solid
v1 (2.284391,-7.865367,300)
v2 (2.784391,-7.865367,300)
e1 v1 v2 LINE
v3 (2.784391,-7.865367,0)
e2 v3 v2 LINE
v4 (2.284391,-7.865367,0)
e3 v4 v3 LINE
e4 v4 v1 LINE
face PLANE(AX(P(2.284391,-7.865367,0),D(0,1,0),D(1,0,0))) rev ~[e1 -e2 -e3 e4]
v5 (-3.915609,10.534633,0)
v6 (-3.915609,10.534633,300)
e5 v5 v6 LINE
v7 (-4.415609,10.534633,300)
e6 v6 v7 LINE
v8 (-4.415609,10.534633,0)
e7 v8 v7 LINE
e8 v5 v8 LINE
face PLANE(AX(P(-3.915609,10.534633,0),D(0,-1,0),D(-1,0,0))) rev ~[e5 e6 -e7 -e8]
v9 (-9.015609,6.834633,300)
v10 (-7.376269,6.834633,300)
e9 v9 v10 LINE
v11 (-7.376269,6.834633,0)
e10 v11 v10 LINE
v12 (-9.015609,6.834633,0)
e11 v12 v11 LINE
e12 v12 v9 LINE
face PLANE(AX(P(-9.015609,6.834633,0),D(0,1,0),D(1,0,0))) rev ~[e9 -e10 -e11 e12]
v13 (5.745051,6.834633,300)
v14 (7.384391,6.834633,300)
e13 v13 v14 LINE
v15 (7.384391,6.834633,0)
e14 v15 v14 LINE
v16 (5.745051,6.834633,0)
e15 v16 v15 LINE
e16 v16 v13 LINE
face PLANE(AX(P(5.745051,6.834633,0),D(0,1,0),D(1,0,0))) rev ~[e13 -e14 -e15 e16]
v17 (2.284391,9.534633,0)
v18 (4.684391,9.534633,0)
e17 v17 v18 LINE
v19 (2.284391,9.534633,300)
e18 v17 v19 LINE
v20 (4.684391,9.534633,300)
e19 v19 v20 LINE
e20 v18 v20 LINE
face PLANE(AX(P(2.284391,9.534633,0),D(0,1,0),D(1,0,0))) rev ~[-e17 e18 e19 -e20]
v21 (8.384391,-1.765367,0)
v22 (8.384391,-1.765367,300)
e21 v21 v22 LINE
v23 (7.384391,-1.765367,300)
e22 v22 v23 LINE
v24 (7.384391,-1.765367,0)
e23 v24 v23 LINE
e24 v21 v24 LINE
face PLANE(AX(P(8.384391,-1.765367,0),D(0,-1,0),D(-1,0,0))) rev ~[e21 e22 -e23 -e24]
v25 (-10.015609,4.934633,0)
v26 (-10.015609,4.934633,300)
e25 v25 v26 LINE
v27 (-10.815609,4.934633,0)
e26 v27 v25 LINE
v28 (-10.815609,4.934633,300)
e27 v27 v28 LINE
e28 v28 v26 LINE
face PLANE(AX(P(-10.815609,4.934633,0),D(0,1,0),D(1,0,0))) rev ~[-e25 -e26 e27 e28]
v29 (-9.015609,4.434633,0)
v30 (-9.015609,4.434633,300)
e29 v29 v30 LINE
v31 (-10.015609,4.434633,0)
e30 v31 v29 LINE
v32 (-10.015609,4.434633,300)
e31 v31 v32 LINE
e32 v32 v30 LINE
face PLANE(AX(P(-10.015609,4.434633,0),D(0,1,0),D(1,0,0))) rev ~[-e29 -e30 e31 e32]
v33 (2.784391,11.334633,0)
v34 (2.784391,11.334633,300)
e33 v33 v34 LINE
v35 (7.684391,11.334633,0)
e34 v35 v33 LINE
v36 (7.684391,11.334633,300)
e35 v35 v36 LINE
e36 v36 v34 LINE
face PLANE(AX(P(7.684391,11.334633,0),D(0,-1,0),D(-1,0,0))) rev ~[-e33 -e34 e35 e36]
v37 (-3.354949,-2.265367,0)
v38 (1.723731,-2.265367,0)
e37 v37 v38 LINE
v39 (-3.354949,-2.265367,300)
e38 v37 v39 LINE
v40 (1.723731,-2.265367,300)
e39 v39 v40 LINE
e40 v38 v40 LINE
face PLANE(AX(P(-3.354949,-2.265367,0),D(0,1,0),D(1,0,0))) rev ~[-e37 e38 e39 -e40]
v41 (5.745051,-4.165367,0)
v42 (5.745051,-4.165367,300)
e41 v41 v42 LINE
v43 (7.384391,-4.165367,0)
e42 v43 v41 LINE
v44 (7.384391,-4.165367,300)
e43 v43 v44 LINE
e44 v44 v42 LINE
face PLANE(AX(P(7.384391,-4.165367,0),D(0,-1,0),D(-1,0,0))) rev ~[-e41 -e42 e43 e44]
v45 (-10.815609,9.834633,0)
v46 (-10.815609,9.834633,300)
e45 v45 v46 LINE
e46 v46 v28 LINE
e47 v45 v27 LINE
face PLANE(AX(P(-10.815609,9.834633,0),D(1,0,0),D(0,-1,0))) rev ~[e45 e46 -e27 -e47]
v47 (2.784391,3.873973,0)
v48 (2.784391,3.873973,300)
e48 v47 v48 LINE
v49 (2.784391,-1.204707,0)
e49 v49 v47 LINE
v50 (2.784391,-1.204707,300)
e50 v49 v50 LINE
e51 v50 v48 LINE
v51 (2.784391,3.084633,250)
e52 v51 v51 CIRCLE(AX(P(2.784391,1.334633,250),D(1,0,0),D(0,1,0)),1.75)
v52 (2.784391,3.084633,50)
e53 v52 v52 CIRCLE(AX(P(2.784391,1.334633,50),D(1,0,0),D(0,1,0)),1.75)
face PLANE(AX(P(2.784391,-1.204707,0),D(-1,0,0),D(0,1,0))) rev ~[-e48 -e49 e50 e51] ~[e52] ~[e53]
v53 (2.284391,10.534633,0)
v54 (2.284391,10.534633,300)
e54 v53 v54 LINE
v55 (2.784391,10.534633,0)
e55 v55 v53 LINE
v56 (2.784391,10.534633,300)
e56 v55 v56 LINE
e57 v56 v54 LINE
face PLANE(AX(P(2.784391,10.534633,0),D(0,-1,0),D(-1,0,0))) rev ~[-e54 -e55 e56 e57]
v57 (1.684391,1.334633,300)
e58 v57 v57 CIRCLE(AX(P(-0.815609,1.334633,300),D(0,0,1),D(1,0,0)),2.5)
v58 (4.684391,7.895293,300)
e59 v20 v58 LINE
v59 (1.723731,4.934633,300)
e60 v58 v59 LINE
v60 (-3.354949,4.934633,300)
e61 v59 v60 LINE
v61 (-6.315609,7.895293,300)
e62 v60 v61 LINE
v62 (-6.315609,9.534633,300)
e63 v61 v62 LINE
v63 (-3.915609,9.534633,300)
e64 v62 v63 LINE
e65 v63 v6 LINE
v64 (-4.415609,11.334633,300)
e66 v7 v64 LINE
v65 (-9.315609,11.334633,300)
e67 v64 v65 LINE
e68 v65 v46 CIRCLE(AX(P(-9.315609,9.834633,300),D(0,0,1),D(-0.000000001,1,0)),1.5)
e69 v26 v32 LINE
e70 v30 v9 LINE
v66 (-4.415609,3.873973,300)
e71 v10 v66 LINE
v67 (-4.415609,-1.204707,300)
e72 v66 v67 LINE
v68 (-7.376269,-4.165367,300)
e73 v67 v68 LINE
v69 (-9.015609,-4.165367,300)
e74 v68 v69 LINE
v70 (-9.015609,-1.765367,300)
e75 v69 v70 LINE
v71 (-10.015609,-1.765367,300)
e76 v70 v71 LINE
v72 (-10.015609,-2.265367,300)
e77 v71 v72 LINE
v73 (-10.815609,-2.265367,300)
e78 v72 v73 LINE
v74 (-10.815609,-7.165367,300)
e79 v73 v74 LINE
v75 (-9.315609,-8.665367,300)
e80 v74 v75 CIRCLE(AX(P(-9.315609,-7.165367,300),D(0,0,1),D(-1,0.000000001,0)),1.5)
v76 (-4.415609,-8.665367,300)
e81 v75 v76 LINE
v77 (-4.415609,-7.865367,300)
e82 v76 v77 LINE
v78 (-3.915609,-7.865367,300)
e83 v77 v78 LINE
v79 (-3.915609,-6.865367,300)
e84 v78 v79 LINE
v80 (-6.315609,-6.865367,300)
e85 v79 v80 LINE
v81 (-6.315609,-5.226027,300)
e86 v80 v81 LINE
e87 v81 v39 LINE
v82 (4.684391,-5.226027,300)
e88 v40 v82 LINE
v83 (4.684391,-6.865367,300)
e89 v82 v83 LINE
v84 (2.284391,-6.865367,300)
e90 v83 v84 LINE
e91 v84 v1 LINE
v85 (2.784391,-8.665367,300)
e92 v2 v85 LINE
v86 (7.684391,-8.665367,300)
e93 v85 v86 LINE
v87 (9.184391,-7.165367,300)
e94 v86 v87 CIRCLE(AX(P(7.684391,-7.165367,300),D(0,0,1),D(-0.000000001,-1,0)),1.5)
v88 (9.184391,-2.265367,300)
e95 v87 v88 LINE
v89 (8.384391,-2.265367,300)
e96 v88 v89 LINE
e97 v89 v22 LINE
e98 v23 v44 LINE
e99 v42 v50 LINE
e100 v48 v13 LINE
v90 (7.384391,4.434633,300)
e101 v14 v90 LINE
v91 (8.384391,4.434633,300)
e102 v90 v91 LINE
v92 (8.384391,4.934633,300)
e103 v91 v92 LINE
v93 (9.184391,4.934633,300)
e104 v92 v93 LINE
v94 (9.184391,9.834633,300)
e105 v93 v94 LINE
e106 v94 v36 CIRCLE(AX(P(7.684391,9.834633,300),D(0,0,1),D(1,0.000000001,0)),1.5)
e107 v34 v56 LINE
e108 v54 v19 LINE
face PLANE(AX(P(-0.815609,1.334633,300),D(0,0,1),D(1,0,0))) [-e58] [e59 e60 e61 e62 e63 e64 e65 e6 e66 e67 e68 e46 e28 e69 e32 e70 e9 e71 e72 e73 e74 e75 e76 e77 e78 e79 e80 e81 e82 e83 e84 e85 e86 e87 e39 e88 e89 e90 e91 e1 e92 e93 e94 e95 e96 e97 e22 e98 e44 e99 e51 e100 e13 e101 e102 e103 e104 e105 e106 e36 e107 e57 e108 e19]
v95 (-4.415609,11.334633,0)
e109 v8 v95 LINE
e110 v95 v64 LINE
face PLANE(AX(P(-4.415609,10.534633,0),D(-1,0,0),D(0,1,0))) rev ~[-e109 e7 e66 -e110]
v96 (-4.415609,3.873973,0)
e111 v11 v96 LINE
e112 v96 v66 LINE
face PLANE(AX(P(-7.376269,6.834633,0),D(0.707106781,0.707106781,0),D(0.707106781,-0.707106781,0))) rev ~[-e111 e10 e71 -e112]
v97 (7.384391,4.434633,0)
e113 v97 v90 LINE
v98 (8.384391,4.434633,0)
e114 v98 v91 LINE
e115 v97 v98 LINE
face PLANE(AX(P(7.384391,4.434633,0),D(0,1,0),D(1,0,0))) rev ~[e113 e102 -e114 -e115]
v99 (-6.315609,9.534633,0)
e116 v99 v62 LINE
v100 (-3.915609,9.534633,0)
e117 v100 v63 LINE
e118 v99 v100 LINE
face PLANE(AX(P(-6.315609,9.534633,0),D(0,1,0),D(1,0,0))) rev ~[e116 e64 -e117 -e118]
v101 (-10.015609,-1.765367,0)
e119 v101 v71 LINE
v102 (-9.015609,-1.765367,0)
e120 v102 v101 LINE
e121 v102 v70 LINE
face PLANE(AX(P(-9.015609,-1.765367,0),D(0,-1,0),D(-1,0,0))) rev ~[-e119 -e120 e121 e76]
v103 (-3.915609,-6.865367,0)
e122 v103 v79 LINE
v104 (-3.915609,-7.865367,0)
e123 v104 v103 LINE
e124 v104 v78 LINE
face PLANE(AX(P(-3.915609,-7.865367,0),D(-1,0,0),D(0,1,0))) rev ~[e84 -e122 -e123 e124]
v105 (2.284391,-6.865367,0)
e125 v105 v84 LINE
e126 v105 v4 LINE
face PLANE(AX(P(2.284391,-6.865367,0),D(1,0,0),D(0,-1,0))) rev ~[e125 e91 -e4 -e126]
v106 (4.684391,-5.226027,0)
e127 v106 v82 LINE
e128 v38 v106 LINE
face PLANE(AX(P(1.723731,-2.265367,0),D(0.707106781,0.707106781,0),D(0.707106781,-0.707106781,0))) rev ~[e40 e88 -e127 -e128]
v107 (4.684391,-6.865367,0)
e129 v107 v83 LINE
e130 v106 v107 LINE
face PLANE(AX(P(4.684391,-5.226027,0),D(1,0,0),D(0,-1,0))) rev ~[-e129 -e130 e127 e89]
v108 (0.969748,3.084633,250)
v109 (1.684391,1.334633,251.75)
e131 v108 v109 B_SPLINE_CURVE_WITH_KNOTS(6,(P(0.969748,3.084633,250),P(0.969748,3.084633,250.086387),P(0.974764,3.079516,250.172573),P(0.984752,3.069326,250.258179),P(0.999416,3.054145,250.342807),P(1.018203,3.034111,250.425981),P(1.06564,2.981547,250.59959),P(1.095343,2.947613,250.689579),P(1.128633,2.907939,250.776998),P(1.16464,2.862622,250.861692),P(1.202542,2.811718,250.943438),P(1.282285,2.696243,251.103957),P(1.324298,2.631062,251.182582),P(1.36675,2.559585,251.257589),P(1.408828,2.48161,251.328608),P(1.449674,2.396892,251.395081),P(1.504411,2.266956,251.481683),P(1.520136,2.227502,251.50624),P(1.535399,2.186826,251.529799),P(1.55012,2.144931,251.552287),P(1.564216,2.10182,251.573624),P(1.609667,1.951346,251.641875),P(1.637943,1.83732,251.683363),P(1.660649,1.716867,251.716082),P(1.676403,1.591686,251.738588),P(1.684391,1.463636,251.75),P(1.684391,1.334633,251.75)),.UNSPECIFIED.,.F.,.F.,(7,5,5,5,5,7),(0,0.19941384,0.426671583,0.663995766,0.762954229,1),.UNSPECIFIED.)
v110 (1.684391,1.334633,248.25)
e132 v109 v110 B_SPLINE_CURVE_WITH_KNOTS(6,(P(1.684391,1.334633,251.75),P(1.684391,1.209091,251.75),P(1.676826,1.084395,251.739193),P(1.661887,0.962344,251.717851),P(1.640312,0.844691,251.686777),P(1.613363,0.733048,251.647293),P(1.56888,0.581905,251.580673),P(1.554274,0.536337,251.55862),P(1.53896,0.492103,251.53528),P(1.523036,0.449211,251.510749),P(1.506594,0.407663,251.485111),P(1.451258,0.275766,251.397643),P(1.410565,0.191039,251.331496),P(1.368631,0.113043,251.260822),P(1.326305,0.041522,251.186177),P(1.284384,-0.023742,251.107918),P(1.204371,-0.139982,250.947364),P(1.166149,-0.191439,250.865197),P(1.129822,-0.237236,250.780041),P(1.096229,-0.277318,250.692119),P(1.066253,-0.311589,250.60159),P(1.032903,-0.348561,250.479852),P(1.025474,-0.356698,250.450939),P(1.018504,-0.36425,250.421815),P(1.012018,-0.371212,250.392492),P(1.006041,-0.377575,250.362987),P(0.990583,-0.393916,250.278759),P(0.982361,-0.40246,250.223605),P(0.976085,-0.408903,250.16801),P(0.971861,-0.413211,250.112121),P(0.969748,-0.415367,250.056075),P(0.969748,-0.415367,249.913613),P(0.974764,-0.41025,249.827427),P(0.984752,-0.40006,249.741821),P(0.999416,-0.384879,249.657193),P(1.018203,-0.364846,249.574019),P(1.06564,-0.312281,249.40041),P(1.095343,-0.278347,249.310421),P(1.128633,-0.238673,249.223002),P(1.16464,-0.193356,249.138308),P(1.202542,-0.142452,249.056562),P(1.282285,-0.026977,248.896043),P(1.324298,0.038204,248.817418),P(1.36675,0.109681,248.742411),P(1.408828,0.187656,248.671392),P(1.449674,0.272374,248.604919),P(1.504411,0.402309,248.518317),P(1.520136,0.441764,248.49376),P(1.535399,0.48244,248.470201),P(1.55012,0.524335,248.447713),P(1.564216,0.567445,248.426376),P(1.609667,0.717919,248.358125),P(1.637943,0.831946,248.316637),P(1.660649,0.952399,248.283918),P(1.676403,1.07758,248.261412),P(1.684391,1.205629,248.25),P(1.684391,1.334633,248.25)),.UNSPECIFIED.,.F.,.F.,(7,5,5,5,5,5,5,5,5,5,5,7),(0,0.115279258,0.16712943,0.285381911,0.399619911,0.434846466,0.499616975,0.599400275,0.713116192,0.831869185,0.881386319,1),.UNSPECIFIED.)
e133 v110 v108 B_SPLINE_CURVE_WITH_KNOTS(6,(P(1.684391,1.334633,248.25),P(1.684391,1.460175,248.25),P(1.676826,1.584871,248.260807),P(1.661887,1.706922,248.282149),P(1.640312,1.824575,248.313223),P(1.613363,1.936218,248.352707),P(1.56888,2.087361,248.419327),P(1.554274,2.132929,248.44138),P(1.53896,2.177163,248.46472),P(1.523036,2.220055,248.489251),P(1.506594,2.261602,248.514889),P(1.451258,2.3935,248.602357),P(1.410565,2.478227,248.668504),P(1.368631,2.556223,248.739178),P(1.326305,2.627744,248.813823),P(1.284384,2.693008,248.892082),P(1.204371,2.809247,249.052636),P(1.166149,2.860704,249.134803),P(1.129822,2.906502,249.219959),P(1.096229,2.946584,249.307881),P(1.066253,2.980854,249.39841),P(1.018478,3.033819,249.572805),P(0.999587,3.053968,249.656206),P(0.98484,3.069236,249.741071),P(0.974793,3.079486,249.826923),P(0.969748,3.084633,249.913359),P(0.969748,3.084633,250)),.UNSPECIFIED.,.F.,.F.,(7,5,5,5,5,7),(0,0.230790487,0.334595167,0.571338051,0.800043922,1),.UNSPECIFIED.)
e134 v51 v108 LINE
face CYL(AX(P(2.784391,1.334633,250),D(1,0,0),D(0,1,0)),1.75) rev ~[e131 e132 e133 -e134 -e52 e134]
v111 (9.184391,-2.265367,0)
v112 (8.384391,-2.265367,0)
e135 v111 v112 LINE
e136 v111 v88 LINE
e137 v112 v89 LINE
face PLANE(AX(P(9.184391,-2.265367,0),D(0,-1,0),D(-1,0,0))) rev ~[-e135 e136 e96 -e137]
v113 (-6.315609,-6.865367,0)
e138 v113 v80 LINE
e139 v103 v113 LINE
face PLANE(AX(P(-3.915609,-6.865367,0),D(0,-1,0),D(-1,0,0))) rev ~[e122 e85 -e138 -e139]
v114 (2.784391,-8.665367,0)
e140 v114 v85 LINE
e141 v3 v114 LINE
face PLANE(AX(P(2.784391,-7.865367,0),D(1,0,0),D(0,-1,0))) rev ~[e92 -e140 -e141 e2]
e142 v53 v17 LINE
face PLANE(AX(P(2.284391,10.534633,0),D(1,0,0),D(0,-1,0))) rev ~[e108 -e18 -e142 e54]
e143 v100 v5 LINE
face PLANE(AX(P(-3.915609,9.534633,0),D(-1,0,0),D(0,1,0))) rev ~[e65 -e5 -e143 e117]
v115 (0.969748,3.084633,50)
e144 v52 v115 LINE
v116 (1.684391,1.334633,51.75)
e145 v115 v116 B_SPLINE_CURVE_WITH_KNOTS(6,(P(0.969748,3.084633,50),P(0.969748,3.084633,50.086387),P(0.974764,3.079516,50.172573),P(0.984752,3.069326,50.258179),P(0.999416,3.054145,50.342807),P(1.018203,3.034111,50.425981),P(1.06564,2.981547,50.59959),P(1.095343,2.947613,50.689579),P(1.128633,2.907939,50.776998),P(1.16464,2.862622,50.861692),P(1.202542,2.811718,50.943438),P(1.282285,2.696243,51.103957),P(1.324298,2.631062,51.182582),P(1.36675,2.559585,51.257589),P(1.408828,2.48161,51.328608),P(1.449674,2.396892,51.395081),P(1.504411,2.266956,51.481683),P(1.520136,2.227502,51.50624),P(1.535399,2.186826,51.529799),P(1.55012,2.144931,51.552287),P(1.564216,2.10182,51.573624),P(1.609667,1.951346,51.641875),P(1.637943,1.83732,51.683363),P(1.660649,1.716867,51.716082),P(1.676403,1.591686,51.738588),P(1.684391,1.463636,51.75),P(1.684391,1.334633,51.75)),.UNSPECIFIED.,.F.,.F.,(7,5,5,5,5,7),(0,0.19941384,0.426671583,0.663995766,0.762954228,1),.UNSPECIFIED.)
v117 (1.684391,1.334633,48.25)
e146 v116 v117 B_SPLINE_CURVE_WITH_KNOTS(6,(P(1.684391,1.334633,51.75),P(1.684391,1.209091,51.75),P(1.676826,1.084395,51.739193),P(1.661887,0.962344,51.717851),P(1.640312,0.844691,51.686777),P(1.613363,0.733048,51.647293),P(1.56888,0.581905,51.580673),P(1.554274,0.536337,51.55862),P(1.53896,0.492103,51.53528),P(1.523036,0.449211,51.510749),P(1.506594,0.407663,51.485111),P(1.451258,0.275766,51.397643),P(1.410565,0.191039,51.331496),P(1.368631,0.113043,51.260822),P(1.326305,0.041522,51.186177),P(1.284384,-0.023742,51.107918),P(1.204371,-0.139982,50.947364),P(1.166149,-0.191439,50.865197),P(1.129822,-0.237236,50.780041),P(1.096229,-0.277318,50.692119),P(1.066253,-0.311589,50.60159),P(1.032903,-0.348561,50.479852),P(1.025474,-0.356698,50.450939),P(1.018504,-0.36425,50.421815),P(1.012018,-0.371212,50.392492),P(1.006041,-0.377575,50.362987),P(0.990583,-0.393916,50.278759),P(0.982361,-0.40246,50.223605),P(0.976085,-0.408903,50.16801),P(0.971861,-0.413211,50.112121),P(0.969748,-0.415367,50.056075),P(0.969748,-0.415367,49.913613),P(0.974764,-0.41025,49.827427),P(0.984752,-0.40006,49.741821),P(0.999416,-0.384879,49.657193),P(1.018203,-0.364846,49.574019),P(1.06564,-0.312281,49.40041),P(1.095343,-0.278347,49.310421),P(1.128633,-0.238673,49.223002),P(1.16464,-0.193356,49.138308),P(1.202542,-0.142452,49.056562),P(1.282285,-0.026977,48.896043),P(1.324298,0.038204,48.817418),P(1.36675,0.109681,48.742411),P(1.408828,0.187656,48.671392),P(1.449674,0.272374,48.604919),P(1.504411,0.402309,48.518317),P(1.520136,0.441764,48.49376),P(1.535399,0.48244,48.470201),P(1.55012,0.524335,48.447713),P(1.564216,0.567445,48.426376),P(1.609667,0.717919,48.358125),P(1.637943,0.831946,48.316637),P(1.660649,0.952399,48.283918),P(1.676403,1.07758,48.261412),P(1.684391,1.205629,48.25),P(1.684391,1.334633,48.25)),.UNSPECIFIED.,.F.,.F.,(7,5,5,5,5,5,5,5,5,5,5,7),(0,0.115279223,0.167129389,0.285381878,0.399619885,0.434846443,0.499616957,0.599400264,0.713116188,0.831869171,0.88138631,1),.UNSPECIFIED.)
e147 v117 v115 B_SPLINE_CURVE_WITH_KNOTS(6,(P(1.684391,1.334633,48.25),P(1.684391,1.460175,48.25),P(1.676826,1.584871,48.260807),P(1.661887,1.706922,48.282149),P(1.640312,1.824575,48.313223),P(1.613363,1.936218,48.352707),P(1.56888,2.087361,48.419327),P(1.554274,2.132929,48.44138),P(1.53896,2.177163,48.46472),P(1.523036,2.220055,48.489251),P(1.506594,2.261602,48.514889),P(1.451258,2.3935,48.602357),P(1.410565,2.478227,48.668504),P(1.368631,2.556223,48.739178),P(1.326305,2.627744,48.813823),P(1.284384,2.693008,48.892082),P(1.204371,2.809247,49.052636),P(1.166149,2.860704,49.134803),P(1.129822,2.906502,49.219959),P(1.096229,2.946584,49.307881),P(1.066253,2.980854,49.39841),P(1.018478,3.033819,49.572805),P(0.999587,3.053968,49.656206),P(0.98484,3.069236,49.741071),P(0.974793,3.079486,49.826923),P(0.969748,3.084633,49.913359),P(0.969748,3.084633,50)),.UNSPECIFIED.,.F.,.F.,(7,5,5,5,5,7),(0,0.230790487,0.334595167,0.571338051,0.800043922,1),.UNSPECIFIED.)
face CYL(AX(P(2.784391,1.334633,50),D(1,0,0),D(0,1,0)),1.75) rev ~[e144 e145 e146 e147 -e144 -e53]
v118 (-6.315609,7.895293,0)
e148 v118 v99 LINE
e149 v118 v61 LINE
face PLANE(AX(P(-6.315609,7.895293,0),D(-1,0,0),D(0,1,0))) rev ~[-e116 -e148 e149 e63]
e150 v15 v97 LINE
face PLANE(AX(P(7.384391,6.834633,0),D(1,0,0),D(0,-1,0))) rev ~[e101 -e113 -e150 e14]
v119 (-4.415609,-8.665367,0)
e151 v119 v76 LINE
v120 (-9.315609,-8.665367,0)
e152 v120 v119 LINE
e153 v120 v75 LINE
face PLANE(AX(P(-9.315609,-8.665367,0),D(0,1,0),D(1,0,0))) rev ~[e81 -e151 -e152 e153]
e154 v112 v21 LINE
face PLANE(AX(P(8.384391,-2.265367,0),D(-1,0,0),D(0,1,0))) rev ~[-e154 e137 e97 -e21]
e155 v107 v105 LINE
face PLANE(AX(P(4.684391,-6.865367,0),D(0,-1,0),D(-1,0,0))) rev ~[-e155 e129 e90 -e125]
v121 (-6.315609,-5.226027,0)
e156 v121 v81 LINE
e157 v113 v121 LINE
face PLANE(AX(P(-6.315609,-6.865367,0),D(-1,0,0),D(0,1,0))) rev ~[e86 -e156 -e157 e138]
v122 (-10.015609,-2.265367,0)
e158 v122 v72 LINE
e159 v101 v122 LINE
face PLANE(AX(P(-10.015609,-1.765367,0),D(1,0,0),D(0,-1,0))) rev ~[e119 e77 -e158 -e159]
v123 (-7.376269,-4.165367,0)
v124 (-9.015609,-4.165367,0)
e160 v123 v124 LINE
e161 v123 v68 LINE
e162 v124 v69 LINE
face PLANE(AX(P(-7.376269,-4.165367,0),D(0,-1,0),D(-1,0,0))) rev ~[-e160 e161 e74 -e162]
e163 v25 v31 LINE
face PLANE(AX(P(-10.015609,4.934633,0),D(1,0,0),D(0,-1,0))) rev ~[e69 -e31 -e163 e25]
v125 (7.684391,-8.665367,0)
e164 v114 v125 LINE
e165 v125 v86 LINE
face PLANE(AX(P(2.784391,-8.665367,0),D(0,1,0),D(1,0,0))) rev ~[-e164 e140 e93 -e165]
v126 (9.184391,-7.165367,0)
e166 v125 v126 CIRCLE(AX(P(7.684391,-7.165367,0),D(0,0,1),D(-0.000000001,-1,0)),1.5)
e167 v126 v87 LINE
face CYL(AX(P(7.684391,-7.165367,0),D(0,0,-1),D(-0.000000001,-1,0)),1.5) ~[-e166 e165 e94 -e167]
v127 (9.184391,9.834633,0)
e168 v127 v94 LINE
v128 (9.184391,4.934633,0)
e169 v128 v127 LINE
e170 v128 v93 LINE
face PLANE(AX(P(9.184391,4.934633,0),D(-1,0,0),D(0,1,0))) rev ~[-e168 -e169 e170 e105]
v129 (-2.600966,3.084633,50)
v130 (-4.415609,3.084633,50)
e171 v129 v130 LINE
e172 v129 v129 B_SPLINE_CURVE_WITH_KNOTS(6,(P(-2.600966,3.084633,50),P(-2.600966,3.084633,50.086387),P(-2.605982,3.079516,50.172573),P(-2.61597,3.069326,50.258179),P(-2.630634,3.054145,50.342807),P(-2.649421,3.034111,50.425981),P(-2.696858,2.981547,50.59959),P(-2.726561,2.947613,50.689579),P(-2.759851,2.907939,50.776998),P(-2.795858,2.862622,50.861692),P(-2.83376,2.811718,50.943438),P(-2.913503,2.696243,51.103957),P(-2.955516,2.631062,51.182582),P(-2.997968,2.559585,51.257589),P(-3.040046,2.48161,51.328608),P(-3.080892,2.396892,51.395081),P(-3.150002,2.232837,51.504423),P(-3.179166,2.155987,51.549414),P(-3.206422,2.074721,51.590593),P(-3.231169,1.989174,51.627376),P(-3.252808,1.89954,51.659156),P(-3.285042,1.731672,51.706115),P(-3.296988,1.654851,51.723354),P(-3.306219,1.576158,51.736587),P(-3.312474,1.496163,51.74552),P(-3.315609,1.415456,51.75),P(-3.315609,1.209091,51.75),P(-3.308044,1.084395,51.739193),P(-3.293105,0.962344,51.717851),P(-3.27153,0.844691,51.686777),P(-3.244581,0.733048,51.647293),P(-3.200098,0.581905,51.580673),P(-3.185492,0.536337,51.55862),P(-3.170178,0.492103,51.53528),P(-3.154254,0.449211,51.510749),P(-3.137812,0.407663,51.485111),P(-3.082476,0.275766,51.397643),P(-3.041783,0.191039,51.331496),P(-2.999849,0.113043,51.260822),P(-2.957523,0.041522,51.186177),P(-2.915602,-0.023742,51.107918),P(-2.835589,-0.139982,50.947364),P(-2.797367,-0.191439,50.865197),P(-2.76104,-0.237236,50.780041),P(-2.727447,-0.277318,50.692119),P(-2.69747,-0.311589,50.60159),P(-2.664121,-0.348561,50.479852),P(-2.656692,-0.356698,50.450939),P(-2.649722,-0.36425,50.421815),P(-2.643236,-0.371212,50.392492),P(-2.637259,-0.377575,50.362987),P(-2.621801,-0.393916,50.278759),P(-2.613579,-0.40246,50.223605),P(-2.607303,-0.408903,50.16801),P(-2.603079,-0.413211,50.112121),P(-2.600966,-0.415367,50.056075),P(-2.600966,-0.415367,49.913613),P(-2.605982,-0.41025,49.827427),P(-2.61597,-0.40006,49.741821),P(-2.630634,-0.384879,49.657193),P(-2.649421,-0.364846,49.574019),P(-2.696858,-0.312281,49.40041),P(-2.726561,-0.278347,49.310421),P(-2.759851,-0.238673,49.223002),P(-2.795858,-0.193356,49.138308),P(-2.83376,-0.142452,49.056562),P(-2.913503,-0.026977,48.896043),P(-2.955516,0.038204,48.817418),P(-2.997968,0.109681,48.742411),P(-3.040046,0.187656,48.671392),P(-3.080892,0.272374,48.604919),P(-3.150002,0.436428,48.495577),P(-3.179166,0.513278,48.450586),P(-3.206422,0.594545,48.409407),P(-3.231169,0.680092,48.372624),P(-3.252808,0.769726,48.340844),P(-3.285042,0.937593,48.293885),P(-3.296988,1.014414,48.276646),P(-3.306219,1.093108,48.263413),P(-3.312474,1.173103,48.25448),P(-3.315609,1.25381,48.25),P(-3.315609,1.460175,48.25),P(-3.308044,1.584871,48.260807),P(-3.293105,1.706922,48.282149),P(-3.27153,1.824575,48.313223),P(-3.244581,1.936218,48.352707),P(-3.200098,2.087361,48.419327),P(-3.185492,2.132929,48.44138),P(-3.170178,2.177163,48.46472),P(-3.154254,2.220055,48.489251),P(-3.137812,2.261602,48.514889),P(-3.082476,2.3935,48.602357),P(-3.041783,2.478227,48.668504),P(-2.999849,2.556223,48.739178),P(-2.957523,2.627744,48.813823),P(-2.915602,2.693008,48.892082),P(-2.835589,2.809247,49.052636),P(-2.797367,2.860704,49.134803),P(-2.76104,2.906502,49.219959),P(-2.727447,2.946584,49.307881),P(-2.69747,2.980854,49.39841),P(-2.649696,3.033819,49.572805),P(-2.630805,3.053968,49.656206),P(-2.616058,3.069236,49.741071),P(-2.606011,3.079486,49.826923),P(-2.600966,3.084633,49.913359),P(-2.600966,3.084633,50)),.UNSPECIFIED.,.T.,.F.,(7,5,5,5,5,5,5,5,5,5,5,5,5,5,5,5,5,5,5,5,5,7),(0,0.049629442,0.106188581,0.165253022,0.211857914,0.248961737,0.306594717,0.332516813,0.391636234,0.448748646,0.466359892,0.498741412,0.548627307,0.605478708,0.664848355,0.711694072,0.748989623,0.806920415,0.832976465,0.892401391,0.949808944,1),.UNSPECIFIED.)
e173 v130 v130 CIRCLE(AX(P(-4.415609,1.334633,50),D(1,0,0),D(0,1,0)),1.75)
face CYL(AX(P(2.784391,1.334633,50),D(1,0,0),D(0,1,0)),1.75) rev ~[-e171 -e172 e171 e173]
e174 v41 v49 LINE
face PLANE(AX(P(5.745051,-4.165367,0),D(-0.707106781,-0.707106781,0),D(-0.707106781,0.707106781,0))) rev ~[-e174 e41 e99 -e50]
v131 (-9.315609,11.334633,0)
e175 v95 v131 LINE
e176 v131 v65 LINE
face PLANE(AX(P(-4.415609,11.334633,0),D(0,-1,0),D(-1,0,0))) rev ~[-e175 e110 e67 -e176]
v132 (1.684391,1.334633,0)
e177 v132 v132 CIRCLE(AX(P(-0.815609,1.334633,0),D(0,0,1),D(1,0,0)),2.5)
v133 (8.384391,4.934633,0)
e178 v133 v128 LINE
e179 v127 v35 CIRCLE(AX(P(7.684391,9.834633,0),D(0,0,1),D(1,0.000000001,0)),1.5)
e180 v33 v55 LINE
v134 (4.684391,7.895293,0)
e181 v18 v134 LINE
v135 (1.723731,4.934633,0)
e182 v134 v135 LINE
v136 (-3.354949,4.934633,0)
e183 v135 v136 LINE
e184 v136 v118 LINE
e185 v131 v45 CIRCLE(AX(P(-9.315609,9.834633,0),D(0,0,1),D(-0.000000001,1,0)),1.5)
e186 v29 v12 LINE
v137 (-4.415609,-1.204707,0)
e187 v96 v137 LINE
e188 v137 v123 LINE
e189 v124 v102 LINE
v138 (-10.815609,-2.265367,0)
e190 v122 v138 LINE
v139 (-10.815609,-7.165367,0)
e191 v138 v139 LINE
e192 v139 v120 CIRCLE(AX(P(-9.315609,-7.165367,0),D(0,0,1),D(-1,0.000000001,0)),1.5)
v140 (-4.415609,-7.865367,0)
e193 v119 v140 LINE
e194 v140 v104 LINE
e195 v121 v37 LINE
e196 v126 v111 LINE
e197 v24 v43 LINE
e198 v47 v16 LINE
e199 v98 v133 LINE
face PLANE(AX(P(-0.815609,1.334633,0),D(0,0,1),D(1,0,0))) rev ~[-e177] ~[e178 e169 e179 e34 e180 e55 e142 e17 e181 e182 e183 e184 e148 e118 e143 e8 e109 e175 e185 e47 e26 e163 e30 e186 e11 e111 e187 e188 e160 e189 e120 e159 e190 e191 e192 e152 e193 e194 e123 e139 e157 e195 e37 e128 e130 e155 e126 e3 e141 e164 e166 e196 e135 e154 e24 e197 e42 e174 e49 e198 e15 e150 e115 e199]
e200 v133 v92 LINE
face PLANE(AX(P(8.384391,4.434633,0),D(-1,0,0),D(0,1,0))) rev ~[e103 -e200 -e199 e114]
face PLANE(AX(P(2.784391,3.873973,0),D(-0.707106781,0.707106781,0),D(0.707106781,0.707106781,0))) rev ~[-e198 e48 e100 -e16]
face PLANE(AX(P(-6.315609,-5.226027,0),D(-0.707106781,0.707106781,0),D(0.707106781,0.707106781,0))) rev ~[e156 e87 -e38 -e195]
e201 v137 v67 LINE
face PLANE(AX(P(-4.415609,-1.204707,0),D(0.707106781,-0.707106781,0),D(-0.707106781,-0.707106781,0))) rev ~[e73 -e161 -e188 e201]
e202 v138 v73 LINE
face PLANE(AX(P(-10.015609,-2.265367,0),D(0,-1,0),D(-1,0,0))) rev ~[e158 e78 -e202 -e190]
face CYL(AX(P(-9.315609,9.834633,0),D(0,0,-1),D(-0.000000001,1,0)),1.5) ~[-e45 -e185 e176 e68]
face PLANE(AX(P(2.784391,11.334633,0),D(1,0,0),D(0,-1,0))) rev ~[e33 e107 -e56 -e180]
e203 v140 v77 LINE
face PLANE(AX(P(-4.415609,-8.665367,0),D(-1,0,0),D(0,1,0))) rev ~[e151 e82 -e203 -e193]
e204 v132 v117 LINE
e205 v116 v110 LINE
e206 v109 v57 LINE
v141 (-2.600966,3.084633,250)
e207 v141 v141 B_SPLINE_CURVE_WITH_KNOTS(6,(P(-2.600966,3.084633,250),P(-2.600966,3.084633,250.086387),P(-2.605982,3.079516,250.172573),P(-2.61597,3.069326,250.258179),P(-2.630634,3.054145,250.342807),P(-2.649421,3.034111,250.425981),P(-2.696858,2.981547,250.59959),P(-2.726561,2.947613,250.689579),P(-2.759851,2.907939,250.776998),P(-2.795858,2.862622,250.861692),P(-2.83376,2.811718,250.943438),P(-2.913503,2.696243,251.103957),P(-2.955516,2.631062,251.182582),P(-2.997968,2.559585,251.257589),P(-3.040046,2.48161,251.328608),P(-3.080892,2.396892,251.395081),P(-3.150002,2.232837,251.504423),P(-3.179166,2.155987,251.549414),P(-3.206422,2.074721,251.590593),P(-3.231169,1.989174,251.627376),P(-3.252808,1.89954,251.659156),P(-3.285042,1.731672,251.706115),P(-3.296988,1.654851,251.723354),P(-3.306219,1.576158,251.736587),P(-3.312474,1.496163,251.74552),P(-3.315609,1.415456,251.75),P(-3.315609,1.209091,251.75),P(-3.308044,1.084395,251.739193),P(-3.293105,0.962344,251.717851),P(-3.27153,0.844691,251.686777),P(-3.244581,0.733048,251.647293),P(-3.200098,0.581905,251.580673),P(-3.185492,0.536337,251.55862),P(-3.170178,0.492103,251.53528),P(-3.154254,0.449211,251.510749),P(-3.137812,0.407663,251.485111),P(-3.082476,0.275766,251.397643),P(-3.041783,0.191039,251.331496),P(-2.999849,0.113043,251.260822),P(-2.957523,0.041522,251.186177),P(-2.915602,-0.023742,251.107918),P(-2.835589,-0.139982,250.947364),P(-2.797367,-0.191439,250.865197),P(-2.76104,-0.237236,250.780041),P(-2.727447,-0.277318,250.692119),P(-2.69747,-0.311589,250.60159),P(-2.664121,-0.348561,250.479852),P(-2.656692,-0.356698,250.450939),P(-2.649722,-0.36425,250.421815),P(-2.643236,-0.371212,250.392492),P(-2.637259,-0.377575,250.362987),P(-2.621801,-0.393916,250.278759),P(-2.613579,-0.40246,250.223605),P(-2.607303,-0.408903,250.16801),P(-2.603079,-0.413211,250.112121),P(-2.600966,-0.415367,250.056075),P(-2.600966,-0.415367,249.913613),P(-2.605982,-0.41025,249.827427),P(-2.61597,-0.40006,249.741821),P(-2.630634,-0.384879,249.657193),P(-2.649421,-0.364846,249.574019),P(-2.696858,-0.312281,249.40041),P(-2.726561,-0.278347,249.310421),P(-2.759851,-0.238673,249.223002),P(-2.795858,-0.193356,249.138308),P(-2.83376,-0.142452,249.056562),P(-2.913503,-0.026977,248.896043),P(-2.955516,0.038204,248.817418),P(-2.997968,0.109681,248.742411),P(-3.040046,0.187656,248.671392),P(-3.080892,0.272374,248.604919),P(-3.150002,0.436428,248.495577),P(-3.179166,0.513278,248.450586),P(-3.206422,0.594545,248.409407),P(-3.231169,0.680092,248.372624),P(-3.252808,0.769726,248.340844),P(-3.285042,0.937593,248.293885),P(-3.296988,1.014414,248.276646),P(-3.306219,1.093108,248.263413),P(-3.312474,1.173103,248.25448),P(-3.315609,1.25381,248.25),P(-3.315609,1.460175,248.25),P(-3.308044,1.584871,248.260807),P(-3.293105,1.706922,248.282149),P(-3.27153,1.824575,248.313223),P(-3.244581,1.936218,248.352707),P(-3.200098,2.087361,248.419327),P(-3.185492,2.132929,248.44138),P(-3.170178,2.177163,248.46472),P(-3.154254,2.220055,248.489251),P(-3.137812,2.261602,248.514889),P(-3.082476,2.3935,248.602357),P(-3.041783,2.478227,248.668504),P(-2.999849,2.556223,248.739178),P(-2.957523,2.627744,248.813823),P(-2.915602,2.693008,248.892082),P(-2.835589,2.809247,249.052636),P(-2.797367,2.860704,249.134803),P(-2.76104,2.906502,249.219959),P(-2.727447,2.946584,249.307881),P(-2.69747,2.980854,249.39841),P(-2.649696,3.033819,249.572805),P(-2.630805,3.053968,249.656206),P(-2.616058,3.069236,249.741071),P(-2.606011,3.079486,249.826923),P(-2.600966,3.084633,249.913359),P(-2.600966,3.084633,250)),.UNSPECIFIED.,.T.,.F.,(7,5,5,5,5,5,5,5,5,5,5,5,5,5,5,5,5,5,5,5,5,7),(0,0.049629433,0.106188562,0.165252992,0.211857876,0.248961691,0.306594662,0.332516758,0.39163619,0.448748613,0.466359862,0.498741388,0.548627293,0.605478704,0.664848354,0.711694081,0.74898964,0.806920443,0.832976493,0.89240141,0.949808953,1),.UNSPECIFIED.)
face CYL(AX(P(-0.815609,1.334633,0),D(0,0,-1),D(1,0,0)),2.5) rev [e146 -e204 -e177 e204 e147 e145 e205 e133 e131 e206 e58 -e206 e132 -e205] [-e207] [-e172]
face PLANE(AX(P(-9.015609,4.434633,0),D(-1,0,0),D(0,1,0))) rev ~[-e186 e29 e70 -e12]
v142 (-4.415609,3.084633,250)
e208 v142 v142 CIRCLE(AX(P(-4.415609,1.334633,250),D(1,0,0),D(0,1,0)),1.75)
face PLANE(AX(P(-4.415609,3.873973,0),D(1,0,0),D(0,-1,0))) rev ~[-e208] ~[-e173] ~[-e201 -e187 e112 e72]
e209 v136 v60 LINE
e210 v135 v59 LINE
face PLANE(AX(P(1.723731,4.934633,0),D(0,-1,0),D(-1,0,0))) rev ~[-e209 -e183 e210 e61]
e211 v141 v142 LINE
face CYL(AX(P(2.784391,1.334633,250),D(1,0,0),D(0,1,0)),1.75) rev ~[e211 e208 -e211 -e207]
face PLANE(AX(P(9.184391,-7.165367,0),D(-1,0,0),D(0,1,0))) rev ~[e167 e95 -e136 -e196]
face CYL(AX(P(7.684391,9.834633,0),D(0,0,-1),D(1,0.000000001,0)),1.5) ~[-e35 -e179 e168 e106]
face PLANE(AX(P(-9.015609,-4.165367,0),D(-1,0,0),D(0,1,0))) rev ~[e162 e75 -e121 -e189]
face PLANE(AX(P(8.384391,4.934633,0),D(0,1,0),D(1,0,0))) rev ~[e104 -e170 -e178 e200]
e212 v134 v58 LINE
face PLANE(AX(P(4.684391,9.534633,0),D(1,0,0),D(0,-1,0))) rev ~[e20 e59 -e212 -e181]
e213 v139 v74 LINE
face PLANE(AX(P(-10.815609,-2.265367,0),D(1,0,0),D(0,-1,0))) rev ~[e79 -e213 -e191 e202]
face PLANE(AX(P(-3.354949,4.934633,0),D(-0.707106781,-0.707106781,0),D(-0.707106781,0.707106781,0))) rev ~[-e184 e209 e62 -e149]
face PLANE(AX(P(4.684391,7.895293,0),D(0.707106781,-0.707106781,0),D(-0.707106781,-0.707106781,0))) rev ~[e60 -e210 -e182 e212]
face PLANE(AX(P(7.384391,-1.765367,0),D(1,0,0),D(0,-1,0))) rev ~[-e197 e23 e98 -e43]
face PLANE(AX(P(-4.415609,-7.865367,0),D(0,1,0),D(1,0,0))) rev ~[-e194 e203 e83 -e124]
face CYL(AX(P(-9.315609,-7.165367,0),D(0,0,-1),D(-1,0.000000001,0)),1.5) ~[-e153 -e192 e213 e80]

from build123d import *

# Parameters (mm, degrees)
SKETCH_1_R          = 2.5
EXTRUDE_1_DEPTH     = 300
SKETCH_2_R          = 1.75
CUT_EXTRUDE_1_DEPTH = 39


with BuildPart() as part:
    # 草图1 → 凸台-拉伸1 (new body)
    with BuildSketch(Plane.XY):
        with BuildLine():
            Line((-4.415608984, 3.873972711), (-4.415608984, -1.204706946))
            Line((-4.415608984, -1.204706946), (-7.376269156, -4.165367117))
            Line((-7.376269156, -4.165367117), (-9.015608984, -4.165367117))
            Line((-9.015608984, -4.165367117), (-9.015608984, -1.765367117))
            Line((-9.015608984, -1.765367117), (-10.015608984, -1.765367117))
            Line((-10.015608984, -1.765367117), (-10.015608984, -2.265367117))
            Line((-10.015608984, -2.265367117), (-10.815608984, -2.265367117))
            Line((-10.815608984, -2.265367117), (-10.815608984, -7.165367117))
            ThreePointArc((-10.815608984, -7.165367117), (-10.376269156, -8.226027289), (-9.315608984, -8.665367117))
            Line((-9.315608984, -8.665367117), (-4.415608984, -8.665367117))
            Line((-4.415608984, -8.665367117), (-4.415608984, -7.865367117))
            Line((-4.415608984, -7.865367117), (-3.915608984, -7.865367117))
            Line((-3.915608984, -7.865367117), (-3.915608984, -6.865367117))
            Line((-3.915608984, -6.865367117), (-6.315608984, -6.865367117))
            Line((-6.315608984, -6.865367117), (-6.315608984, -5.226027289))
            Line((-6.315608984, -5.226027289), (-3.354948812, -2.265367117))
            Line((-3.354948812, -2.265367117), (1.723730844, -2.265367117))
            Line((1.723730844, -2.265367117), (4.684391016, -5.226027289))
            Line((4.684391016, -5.226027289), (4.684391016, -6.865367117))
            Line((4.684391016, -6.865367117), (2.284391016, -6.865367117))
            Line((2.284391016, -6.865367117), (2.284391016, -7.865367117))
            Line((2.284391016, -7.865367117), (2.784391016, -7.865367117))
            Line((2.784391016, -7.865367117), (2.784391016, -8.665367117))
            Line((2.784391016, -8.665367117), (7.684391016, -8.665367117))
            ThreePointArc((7.684391016, -8.665367117), (8.745051188, -8.226027289), (9.184391016, -7.165367117))
            Line((9.184391016, -7.165367117), (9.184391016, -2.265367117))
            Line((9.184391016, -2.265367117), (8.384391016, -2.265367117))
            Line((8.384391016, -2.265367117), (8.384391016, -1.765367117))
            Line((8.384391016, -1.765367117), (7.384391016, -1.765367117))
            Line((7.384391016, -1.765367117), (7.384391016, -4.165367117))
            Line((7.384391016, -4.165367117), (5.745051188, -4.165367117))
            Line((5.745051188, -4.165367117), (2.784391016, -1.204706946))
            Line((2.784391016, -1.204706946), (2.784391016, 3.873972711))
            Line((2.784391016, 3.873972711), (5.745051188, 6.834632883))
            Line((5.745051188, 6.834632883), (7.384391016, 6.834632883))
            Line((7.384391016, 6.834632883), (7.384391016, 4.434632883))
            Line((7.384391016, 4.434632883), (8.384391016, 4.434632883))
            Line((8.384391016, 4.434632883), (8.384391016, 4.934632883))
            Line((8.384391016, 4.934632883), (9.184391016, 4.934632883))
            Line((9.184391016, 4.934632883), (9.184391016, 9.834632883))
            ThreePointArc((9.184391016, 9.834632883), (8.745051188, 10.895293054), (7.684391016, 11.334632883))
            Line((7.684391016, 11.334632883), (2.784391016, 11.334632883))
            Line((2.784391016, 11.334632883), (2.784391016, 10.534632883))
            Line((2.784391016, 10.534632883), (2.284391016, 10.534632883))
            Line((2.284391016, 10.534632883), (2.284391016, 9.534632883))
            Line((2.284391016, 9.534632883), (4.684391016, 9.534632883))
            Line((4.684391016, 9.534632883), (4.684391016, 7.895293054))
            Line((4.684391016, 7.895293054), (1.723730844, 4.934632883))
            Line((1.723730844, 4.934632883), (-3.354948812, 4.934632883))
            Line((-3.354948812, 4.934632883), (-6.315608984, 7.895293054))
            Line((-6.315608984, 7.895293054), (-6.315608984, 9.534632883))
            Line((-6.315608984, 9.534632883), (-3.915608984, 9.534632883))
            Line((-3.915608984, 9.534632883), (-3.915608984, 10.534632883))
            Line((-3.915608984, 10.534632883), (-4.415608984, 10.534632883))
            Line((-4.415608984, 10.534632883), (-4.415608984, 11.334632883))
            Line((-4.415608984, 11.334632883), (-9.315608984, 11.334632883))
            ThreePointArc((-9.315608984, 11.334632883), (-10.376269156, 10.895293054), (-10.815608984, 9.834632883))
            Line((-10.815608984, 9.834632883), (-10.815608984, 4.934632883))
            Line((-10.815608984, 4.934632883), (-10.015608984, 4.934632883))
            Line((-10.015608984, 4.934632883), (-10.015608984, 4.434632883))
            Line((-10.015608984, 4.434632883), (-9.015608984, 4.434632883))
            Line((-9.015608984, 4.434632883), (-9.015608984, 6.834632883))
            Line((-9.015608984, 6.834632883), (-7.376269156, 6.834632883))
            Line((-7.376269156, 6.834632883), (-4.415608984, 3.873972711))
        make_face()
        with Locations((-0.815608984, 1.334632883)):
            Circle(SKETCH_1_R, mode=Mode.SUBTRACT)
    extrude(amount=EXTRUDE_1_DEPTH)

    # 草图2 → 切除-拉伸1 (cut)
    with BuildSketch(Plane(origin=(2.784391016, 0, 0), x_dir=(0, 0, -1), z_dir=(1, 0, 0))):
        with Locations(Location((-250, 1.334632883, 0), (0, 0, 90))):
            Circle(SKETCH_2_R)
        with Locations(Location((-50, 1.334632883, 0), (0, 0, 90))):
            Circle(SKETCH_2_R)
    extrude(amount=-CUT_EXTRUDE_1_DEPTH, mode=Mode.SUBTRACT)


solid = part.part
